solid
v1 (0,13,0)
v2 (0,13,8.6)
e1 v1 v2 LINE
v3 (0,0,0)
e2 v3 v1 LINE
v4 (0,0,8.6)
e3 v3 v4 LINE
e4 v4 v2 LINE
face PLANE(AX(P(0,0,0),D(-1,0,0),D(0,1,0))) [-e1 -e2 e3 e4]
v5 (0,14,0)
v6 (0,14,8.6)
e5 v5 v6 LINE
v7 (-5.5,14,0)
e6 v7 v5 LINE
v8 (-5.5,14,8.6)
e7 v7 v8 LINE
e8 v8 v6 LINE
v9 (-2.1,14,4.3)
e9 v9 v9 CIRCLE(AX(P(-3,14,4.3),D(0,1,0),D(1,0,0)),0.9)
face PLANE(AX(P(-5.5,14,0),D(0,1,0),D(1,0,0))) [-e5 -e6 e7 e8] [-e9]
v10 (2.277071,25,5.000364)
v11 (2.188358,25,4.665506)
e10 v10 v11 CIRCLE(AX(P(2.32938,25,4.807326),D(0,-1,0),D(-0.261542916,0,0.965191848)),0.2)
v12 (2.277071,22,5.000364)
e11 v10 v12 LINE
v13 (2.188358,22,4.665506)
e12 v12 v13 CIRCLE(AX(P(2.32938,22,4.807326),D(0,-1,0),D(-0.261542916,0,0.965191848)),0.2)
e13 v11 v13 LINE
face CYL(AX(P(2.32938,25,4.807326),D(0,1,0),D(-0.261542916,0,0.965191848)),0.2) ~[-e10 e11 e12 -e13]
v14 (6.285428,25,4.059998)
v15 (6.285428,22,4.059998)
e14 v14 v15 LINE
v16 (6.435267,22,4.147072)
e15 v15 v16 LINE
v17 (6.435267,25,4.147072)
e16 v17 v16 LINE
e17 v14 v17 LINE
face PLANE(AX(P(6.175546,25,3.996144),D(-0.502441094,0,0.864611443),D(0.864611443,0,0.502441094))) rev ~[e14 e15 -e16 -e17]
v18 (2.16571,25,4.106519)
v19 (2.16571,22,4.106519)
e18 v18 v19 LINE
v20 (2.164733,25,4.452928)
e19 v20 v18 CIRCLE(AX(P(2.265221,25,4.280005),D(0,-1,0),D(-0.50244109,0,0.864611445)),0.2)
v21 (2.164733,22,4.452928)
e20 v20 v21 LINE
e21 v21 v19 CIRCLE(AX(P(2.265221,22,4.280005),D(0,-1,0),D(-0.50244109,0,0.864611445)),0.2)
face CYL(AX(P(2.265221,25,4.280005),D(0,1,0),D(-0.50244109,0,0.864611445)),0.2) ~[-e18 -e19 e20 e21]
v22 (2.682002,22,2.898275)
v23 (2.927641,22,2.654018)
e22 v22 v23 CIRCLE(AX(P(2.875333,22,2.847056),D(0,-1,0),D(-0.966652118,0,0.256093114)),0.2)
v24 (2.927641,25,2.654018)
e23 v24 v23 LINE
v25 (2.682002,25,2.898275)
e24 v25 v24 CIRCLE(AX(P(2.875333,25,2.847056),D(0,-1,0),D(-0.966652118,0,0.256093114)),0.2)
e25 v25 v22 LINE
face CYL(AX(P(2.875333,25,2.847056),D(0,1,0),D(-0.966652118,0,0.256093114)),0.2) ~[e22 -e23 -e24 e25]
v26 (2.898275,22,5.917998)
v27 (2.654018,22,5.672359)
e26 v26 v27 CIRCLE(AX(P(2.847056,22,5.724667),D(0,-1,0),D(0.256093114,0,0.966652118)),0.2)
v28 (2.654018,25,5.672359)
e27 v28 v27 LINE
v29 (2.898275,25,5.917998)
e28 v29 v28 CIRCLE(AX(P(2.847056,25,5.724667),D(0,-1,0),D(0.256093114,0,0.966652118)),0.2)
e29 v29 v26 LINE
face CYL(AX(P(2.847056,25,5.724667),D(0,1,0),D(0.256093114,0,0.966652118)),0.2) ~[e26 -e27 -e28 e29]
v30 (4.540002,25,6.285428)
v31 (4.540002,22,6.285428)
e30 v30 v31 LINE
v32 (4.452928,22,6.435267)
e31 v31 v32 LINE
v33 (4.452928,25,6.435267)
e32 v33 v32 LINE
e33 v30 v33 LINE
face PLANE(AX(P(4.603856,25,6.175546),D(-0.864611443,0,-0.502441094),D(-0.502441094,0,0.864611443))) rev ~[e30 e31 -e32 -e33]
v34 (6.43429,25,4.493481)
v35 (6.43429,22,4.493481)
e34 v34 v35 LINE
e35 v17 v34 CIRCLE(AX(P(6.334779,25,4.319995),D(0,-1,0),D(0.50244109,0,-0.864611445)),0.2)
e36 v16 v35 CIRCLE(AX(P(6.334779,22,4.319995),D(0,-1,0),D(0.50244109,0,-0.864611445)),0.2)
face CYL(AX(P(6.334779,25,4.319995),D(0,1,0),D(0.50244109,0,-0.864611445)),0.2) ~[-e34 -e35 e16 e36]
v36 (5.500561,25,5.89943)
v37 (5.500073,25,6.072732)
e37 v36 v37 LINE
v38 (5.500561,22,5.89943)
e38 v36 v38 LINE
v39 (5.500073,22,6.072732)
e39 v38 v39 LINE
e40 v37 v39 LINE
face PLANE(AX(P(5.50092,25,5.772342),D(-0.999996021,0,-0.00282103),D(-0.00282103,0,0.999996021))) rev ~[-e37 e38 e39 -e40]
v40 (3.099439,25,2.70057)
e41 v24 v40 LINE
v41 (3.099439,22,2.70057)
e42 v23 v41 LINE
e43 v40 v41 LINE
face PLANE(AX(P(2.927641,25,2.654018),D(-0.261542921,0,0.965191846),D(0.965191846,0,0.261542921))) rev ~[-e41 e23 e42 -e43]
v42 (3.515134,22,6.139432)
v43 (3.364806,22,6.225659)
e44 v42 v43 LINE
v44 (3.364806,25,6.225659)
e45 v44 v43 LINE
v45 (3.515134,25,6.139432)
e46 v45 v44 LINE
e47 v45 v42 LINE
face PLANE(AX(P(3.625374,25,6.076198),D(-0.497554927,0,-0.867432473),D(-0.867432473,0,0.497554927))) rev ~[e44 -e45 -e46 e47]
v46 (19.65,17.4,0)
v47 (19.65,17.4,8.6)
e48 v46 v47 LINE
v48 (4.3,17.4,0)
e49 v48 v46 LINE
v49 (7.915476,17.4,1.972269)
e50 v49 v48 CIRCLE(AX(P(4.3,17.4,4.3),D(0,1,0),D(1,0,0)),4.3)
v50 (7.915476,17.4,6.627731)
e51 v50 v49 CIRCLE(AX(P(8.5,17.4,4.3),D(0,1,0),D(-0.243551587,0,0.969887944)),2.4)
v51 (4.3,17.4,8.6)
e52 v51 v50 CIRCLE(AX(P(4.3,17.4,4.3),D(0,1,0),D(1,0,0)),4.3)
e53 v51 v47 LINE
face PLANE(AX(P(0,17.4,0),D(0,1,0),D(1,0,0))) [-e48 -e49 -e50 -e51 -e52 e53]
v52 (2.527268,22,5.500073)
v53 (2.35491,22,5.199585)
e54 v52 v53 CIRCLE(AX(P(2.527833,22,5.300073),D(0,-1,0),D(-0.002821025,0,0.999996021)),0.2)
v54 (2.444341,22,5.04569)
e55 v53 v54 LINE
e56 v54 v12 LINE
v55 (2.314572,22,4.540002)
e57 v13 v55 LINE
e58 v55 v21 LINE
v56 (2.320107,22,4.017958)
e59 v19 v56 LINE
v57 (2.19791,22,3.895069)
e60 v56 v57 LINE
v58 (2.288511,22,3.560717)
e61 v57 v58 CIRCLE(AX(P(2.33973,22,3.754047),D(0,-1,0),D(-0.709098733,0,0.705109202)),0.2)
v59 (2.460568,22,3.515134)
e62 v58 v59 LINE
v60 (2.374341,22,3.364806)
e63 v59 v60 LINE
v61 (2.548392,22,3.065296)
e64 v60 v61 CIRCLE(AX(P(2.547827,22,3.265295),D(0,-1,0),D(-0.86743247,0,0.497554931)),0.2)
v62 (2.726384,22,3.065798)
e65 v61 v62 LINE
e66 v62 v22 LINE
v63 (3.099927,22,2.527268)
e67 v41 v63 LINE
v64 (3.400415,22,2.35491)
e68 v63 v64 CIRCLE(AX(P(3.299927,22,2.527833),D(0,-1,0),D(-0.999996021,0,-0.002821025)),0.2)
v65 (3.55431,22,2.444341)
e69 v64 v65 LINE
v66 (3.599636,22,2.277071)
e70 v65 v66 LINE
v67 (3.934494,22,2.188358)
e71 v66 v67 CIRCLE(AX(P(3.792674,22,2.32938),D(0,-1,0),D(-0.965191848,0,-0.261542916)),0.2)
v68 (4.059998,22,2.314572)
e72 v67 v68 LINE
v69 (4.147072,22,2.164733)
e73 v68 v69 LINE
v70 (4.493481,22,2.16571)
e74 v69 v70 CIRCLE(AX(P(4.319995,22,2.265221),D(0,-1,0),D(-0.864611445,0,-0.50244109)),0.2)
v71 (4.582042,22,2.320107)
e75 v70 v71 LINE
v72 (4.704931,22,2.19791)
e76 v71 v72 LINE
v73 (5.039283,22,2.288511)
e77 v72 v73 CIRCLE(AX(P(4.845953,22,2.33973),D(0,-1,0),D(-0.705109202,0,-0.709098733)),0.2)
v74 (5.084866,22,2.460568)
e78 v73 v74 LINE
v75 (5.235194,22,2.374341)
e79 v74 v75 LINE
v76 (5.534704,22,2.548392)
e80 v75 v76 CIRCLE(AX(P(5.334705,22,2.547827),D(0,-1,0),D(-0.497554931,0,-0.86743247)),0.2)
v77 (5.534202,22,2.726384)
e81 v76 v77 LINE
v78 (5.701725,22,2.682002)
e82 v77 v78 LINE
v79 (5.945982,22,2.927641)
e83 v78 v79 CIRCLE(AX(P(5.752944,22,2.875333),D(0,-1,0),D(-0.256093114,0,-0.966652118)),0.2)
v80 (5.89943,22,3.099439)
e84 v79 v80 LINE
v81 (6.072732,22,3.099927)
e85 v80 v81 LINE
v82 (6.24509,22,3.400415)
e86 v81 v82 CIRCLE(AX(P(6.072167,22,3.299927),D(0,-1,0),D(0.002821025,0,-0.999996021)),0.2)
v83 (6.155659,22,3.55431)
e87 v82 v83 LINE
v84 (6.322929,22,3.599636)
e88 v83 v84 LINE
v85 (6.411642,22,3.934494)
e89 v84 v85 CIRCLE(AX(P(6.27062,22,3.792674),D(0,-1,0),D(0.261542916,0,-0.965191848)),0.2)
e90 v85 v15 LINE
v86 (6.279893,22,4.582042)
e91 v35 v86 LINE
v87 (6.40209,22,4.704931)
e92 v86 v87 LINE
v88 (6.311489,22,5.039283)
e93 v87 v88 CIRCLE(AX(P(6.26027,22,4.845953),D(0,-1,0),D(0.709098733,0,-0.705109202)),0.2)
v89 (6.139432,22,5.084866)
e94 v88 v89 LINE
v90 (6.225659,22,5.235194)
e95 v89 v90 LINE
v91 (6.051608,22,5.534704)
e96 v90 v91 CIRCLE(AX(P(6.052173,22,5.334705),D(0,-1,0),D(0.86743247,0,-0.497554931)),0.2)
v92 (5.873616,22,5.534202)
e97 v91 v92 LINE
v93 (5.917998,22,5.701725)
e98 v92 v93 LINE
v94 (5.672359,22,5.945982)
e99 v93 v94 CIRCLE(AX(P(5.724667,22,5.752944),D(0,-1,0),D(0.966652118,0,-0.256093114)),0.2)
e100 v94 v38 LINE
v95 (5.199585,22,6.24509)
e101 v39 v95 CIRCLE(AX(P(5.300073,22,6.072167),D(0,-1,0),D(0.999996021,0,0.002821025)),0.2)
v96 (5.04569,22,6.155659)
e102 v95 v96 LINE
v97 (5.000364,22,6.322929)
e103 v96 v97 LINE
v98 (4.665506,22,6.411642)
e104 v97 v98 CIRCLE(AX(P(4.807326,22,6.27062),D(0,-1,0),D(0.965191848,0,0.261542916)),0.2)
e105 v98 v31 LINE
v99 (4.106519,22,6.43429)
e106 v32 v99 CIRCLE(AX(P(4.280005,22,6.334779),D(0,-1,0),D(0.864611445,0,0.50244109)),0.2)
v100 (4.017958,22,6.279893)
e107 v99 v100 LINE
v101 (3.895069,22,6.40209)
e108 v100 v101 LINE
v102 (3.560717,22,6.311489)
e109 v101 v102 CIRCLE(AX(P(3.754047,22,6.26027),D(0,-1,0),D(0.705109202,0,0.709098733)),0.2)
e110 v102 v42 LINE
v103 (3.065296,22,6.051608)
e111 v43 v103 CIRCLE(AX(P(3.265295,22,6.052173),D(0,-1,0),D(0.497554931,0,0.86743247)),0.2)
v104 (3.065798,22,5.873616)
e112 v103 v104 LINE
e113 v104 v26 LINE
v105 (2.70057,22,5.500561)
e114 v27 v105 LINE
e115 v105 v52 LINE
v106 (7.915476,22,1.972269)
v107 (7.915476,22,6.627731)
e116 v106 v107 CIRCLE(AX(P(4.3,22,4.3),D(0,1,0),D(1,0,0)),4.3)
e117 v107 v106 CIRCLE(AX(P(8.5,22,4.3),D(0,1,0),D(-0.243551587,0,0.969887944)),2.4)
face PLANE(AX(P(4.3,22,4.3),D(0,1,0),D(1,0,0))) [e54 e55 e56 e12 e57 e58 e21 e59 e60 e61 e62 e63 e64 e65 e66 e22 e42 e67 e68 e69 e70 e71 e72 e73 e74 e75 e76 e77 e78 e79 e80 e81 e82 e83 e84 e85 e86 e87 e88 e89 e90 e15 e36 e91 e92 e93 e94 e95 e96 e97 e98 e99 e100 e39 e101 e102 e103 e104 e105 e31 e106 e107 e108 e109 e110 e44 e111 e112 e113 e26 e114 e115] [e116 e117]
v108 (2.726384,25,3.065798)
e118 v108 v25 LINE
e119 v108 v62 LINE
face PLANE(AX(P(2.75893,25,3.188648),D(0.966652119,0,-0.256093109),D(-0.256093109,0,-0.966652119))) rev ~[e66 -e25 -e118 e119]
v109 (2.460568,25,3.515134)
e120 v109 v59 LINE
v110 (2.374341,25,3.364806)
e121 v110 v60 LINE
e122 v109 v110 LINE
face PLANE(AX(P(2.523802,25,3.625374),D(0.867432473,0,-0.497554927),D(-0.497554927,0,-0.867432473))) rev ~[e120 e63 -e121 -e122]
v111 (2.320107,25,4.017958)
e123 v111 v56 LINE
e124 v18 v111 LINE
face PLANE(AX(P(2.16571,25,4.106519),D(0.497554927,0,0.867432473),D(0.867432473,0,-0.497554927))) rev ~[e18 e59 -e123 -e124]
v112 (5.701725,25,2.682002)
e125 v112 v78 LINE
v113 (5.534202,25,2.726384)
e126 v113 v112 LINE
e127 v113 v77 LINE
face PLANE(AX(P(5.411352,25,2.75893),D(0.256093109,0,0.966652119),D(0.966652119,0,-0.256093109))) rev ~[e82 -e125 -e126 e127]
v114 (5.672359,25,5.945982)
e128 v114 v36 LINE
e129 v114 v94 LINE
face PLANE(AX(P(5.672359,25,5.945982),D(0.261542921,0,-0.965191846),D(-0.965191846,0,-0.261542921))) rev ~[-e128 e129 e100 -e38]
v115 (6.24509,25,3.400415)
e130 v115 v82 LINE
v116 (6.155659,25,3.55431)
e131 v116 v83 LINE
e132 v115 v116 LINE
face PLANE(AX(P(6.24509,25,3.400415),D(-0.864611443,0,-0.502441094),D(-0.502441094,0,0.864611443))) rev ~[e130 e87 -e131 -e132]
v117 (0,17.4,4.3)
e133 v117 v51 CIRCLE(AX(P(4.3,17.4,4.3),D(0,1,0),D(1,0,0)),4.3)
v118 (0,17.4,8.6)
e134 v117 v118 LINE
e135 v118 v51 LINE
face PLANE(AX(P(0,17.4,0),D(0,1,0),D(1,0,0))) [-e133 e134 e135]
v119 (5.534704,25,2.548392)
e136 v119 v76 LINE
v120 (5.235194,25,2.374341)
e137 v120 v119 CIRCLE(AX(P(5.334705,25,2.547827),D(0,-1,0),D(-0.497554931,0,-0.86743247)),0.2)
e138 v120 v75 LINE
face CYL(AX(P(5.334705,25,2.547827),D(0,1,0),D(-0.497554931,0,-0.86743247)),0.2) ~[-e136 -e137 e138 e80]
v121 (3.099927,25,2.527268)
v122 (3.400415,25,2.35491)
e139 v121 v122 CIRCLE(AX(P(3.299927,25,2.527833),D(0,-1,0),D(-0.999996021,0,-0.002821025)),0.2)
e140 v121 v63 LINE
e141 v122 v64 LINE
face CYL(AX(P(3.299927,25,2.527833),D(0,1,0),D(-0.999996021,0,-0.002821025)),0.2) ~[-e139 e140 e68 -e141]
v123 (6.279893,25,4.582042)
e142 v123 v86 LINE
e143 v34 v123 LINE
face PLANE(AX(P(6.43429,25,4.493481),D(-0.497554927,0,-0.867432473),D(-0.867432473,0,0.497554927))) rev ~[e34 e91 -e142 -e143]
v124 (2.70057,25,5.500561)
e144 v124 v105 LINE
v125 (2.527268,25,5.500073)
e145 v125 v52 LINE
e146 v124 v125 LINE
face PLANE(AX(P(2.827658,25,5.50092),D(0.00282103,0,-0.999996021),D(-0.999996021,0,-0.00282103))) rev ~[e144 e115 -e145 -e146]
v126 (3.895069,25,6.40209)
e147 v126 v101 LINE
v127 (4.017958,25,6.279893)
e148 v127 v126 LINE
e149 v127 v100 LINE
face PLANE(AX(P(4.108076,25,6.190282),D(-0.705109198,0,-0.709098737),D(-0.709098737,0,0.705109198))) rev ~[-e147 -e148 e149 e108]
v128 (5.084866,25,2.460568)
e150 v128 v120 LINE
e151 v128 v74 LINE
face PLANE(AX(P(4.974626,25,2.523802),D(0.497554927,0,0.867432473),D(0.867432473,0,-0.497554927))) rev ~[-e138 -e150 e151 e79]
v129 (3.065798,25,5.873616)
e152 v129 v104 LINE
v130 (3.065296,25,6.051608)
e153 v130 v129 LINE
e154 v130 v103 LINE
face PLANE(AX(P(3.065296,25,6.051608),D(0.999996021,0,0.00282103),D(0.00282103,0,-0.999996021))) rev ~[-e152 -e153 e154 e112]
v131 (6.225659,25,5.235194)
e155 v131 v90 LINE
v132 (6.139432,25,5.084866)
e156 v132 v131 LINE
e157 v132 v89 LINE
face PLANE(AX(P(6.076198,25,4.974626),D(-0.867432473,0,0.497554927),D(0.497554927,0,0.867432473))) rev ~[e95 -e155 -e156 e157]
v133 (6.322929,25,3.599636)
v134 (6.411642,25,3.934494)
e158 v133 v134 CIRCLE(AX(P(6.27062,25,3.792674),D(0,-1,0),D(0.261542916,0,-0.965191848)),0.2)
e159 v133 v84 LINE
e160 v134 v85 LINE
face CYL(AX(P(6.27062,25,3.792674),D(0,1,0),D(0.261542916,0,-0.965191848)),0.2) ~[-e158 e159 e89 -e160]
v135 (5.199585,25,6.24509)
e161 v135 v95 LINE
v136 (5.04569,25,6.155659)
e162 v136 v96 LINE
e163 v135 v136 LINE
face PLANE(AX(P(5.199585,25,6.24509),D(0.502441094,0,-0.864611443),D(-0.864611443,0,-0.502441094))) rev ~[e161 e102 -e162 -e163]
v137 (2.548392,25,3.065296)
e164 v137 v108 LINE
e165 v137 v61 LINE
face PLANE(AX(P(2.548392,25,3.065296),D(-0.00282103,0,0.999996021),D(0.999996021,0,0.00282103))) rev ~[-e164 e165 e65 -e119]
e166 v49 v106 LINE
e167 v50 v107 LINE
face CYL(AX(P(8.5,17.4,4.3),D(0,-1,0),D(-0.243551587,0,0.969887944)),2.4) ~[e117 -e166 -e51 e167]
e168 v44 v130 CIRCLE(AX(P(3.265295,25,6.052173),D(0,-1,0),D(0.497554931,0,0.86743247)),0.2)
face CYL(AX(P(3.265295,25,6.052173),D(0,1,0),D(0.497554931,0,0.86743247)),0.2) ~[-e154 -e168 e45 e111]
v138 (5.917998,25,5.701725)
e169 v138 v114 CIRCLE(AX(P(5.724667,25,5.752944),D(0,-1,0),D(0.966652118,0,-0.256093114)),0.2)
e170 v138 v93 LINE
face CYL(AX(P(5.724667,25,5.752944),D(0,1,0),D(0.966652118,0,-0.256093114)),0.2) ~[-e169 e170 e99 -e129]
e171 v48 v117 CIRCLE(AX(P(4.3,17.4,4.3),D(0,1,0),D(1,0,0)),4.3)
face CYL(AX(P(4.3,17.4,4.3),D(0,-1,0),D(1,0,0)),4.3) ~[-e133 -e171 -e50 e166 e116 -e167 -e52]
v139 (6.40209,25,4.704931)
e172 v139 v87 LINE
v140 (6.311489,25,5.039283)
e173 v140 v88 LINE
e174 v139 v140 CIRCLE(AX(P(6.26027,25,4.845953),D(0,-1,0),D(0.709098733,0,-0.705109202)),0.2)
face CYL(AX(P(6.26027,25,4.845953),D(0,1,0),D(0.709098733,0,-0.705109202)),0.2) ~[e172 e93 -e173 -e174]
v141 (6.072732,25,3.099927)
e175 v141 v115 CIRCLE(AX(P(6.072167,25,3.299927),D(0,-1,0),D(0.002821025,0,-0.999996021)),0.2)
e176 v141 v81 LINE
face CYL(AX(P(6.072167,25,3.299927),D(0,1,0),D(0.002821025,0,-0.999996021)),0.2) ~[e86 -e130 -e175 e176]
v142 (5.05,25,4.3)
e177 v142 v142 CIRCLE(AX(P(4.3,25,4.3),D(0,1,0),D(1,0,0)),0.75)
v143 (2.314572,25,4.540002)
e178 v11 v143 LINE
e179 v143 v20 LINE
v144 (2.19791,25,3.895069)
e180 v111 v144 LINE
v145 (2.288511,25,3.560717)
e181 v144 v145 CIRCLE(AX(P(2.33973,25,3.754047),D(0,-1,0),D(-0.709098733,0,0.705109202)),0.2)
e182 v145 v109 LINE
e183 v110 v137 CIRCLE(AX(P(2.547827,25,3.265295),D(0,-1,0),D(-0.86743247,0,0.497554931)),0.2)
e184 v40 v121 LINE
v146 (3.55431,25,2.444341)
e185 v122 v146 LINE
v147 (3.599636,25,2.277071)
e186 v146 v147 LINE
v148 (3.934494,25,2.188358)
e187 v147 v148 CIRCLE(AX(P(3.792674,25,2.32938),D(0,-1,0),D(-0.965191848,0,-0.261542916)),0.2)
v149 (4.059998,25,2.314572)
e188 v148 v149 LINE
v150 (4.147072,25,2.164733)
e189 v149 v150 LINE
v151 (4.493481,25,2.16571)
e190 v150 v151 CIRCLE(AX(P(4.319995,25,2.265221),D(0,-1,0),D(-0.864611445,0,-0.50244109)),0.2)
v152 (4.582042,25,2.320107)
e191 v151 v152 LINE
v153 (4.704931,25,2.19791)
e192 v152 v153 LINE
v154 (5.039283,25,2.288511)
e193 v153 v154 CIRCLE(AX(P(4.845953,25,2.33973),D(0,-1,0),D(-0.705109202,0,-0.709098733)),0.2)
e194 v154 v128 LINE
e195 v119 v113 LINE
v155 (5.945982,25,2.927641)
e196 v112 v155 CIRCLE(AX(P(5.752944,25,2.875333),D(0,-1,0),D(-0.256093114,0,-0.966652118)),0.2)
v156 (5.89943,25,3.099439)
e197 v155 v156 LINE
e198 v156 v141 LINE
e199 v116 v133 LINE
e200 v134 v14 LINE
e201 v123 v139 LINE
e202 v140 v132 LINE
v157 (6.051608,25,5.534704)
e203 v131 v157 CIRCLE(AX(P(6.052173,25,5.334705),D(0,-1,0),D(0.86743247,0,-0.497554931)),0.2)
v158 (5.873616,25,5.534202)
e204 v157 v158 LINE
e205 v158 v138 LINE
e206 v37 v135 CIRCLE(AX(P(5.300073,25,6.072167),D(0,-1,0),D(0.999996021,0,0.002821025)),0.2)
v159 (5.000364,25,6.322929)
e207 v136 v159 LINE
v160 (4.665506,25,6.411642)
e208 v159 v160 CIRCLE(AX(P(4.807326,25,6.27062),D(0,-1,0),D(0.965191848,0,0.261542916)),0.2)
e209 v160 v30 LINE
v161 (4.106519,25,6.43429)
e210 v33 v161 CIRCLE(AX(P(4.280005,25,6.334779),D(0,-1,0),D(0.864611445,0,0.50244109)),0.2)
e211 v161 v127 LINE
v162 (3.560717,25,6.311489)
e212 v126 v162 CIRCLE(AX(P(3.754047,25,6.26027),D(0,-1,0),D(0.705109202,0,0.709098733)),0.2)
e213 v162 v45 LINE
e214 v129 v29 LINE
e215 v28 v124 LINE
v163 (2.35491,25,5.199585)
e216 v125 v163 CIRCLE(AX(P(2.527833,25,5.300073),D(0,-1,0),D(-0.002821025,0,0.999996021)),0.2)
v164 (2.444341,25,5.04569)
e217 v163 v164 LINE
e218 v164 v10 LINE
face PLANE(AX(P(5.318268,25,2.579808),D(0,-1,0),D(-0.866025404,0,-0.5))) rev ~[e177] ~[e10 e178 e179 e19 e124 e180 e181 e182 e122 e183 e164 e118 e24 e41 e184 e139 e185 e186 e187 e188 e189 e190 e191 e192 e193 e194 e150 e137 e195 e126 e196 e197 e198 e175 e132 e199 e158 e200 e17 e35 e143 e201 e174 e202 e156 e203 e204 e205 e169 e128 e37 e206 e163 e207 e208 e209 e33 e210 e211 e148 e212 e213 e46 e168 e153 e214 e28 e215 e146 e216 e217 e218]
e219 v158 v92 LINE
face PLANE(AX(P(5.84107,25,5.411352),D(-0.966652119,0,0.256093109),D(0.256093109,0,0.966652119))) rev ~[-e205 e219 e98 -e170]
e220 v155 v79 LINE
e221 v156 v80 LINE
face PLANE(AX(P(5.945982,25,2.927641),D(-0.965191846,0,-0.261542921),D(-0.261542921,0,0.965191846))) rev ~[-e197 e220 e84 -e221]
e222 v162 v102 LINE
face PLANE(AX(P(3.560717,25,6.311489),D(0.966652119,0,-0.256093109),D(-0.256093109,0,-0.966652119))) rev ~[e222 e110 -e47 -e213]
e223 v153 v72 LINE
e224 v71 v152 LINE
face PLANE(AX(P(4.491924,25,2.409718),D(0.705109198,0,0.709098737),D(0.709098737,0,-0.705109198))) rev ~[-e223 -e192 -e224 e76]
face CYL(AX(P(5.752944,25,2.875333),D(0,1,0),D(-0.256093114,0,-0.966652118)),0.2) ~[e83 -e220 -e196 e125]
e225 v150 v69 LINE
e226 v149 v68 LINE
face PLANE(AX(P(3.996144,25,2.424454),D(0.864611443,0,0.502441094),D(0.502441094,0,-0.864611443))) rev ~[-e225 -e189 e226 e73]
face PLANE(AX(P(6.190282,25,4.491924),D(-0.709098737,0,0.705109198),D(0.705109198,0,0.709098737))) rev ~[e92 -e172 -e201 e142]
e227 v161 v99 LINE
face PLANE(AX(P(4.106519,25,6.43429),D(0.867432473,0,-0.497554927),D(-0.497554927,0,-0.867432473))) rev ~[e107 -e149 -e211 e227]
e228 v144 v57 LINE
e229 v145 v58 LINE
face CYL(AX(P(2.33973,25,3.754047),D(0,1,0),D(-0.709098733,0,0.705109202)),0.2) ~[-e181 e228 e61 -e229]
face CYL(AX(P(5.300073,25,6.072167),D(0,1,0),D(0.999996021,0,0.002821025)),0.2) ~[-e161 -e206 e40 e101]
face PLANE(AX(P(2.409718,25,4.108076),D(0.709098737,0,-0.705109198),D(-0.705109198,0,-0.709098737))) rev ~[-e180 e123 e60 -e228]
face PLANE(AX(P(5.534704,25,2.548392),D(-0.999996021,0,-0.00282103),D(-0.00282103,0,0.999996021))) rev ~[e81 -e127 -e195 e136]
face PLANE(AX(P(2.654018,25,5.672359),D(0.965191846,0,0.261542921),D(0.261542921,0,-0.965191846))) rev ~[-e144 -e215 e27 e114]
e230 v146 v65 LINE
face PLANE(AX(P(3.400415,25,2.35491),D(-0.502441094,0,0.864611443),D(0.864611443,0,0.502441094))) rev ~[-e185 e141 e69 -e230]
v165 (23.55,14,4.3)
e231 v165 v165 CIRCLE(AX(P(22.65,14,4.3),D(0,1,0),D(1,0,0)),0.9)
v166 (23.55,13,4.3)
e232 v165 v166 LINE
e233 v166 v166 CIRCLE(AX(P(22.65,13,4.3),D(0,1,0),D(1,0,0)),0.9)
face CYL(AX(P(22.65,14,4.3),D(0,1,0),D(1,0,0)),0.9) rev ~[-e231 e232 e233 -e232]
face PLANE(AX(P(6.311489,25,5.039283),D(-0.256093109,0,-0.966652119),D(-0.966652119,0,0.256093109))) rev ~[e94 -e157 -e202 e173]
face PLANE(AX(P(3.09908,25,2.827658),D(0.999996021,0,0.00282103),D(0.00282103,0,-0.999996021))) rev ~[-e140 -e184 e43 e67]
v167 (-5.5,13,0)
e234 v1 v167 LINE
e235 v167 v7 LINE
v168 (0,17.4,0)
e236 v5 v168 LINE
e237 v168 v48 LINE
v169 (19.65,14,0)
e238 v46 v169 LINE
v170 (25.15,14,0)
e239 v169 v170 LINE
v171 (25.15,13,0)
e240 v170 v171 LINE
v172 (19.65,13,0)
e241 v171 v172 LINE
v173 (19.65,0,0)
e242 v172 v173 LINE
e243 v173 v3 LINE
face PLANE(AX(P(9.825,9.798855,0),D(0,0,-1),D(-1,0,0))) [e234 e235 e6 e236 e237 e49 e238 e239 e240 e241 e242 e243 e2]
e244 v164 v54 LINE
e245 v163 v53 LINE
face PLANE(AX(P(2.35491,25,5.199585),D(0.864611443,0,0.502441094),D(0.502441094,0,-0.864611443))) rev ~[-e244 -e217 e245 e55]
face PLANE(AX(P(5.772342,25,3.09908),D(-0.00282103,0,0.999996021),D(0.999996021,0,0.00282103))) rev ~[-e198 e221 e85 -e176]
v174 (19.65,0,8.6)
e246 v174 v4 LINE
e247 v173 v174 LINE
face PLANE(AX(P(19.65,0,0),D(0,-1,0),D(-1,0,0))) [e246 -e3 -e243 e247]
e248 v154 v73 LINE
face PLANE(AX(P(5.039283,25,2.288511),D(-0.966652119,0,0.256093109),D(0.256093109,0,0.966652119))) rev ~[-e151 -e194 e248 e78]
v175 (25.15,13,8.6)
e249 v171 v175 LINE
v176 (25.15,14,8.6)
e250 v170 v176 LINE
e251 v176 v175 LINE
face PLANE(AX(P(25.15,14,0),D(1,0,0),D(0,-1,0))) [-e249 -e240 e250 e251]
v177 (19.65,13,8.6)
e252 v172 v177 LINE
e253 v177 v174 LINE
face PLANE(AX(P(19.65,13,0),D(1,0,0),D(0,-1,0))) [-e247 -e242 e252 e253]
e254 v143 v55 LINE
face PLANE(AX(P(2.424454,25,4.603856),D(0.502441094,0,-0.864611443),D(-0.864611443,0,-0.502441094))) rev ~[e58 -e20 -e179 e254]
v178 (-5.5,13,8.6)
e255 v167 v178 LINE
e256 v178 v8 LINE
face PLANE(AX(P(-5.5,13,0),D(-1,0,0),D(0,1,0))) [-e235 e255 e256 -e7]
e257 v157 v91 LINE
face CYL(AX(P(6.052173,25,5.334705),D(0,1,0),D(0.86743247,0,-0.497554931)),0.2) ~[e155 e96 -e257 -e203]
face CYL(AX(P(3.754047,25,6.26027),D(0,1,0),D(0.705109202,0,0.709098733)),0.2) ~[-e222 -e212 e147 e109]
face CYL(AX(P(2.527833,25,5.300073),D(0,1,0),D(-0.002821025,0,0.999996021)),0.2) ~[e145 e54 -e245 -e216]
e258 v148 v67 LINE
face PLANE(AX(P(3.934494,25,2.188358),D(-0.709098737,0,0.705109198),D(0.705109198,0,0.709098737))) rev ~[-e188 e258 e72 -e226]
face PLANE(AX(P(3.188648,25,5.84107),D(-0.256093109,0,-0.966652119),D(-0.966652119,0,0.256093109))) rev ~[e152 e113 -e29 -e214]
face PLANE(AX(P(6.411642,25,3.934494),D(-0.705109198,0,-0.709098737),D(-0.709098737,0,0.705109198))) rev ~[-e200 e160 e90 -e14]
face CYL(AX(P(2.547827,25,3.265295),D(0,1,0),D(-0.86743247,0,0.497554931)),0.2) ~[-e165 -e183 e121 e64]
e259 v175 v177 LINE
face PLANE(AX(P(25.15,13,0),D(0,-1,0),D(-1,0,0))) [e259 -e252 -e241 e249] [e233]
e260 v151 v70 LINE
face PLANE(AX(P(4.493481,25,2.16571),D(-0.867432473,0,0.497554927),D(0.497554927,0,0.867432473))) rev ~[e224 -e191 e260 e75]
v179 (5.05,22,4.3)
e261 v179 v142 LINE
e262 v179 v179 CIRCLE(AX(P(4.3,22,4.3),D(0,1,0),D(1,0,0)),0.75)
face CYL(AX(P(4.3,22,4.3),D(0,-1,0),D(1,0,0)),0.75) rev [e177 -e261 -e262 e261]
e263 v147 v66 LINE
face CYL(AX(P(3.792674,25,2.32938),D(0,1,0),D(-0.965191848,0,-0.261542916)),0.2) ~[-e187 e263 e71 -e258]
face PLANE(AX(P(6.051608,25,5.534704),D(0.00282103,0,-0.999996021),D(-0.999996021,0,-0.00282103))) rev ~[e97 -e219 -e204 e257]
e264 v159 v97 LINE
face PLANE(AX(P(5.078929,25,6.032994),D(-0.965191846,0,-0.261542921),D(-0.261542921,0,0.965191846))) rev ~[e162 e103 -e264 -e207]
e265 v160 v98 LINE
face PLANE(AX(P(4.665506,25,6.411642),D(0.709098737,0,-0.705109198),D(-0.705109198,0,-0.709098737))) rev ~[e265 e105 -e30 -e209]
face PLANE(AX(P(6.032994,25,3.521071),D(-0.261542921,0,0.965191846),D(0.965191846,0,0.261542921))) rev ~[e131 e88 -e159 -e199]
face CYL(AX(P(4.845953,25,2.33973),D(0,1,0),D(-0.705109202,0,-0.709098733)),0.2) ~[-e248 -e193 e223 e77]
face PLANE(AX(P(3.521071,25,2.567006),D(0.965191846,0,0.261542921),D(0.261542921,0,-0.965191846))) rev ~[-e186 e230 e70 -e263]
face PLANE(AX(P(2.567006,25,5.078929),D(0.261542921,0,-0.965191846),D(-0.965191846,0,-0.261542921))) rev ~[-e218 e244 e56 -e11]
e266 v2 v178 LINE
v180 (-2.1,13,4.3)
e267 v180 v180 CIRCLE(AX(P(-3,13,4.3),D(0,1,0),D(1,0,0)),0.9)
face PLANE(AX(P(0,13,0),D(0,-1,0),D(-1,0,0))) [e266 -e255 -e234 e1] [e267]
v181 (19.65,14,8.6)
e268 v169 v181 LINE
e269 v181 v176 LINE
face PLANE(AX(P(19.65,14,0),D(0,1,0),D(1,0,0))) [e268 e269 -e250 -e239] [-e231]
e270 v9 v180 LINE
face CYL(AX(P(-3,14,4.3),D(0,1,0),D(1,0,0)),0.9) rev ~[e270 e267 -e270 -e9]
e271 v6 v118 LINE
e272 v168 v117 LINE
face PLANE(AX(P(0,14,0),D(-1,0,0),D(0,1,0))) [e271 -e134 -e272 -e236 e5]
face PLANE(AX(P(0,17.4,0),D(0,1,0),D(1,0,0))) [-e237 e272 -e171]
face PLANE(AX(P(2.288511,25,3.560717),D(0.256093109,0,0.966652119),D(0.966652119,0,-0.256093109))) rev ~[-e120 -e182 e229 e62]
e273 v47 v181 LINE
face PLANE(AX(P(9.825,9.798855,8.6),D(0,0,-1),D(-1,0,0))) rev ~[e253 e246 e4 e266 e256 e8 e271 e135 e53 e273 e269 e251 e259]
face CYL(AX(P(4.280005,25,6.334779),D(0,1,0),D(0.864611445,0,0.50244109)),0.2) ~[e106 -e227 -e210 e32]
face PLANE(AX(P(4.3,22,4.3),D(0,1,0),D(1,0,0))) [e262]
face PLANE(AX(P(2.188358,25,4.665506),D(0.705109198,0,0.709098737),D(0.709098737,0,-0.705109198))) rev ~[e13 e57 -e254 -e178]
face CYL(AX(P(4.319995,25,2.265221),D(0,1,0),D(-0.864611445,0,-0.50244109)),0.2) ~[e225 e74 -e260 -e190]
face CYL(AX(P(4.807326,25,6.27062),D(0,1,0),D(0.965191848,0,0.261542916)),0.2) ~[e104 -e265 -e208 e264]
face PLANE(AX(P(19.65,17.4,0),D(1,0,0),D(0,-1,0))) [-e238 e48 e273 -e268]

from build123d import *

# Parameters (mm, degrees)
RESSALTO_EXTRUS_O1_DEPTH = 8.6
ESBO_O2_R                = 0.9
CORTE_EXTRUS_O1_DEPTH    = 15
ESBO_O3_R                = 4.3
ESBO_O3_R_2              = 2.4
RESSALTO_EXTRUS_O3_DEPTH = 4.6
ESBO_O4_R                = 1.9
ESBO_O4_R_2              = 0.75
RESSALTO_EXTRUS_O4_DEPTH = 3
RESSALTO_EXTRUS_O5_DEPTH = 3
PADR_OCIRCULAR1_COUNT    = 24


with BuildPart() as part:
    # Esboço1 → Ressalto-extrusão1 (new body)
    with BuildSketch(Plane.XY):
        Polygon((0, 0), (0, 13), (-5.5, 13), (-5.5, 14), (0, 14), (0, 17.4), (19.65, 17.4), (19.65, 14), (25.15, 14), (25.15, 13), (19.65, 13), (19.65, 0), align=None)
    extrude(amount=RESSALTO_EXTRUS_O1_DEPTH)

    # Esboço2 → Corte-extrusão1 (cut, through all)
    with BuildSketch(Plane(origin=(0, 14, 0), x_dir=(1, 0, 0), z_dir=(0, 1, 0))):
        with Locations((-3, -4.3)):
            Circle(ESBO_O2_R)
        with Locations((22.65, -4.3)):
            Circle(ESBO_O2_R)
    extrude(amount=-CORTE_EXTRUS_O1_DEPTH, mode=Mode.SUBTRACT)

    # Esboço3 → Ressalto-extrusão3 (add)
    with BuildSketch(Plane(origin=(0, 17.4, 0), x_dir=(1, 0, 0), z_dir=(0, 1, 0))):
        with Locations((4.3, -4.3)):
            Circle(ESBO_O3_R)
        with Locations((8.5, -4.3)):
            Circle(ESBO_O3_R_2)
    extrude(amount=RESSALTO_EXTRUS_O3_DEPTH)

    # Esboço4 → Ressalto-extrusão4 (add)
    with BuildSketch(Plane(origin=(0, 22, 0), x_dir=(1, 0, 0), z_dir=(0, 1, 0))):
        with Locations((4.3, -4.3)):
            Circle(ESBO_O4_R)
        with Locations((4.3, -4.3)):
            Circle(ESBO_O4_R_2, mode=Mode.SUBTRACT)
    extrude(amount=RESSALTO_EXTRUS_O4_DEPTH)

    # Esboço5 → Ressalto-extrusão5 (add)
    with BuildSketch(Plane(origin=(0, 25, 0), x_dir=(1, 0, 0), z_dir=(0, 1, 0))):
        with BuildLine():
            Line((3.996143779, -2.424454374), (4.147072388, -2.164733177))
            ThreePointArc((4.147072388, -2.164733177), (4.320558883, -2.065222191), (4.493481171, -2.16571041))
            Line((4.493481171, -2.16571041), (4.646102398, -2.431788789))
            Line((4.646102398, -2.431788789), (3.996143779, -2.424454374))
        make_face()
    ressalto_extrus_o5 = extrude(amount=-RESSALTO_EXTRUS_O5_DEPTH)

    # PadrãoCircular1: Ressalto-extrusão5 ×24 about axis
    padr_ocircular1_axis = Axis((4.3, 0, 4.3), (0, 1, 0))
    for i in range(1, PADR_OCIRCULAR1_COUNT):
        add(ressalto_extrus_o5.rotate(padr_ocircular1_axis, i * 360 / PADR_OCIRCULAR1_COUNT))


solid = part.part
